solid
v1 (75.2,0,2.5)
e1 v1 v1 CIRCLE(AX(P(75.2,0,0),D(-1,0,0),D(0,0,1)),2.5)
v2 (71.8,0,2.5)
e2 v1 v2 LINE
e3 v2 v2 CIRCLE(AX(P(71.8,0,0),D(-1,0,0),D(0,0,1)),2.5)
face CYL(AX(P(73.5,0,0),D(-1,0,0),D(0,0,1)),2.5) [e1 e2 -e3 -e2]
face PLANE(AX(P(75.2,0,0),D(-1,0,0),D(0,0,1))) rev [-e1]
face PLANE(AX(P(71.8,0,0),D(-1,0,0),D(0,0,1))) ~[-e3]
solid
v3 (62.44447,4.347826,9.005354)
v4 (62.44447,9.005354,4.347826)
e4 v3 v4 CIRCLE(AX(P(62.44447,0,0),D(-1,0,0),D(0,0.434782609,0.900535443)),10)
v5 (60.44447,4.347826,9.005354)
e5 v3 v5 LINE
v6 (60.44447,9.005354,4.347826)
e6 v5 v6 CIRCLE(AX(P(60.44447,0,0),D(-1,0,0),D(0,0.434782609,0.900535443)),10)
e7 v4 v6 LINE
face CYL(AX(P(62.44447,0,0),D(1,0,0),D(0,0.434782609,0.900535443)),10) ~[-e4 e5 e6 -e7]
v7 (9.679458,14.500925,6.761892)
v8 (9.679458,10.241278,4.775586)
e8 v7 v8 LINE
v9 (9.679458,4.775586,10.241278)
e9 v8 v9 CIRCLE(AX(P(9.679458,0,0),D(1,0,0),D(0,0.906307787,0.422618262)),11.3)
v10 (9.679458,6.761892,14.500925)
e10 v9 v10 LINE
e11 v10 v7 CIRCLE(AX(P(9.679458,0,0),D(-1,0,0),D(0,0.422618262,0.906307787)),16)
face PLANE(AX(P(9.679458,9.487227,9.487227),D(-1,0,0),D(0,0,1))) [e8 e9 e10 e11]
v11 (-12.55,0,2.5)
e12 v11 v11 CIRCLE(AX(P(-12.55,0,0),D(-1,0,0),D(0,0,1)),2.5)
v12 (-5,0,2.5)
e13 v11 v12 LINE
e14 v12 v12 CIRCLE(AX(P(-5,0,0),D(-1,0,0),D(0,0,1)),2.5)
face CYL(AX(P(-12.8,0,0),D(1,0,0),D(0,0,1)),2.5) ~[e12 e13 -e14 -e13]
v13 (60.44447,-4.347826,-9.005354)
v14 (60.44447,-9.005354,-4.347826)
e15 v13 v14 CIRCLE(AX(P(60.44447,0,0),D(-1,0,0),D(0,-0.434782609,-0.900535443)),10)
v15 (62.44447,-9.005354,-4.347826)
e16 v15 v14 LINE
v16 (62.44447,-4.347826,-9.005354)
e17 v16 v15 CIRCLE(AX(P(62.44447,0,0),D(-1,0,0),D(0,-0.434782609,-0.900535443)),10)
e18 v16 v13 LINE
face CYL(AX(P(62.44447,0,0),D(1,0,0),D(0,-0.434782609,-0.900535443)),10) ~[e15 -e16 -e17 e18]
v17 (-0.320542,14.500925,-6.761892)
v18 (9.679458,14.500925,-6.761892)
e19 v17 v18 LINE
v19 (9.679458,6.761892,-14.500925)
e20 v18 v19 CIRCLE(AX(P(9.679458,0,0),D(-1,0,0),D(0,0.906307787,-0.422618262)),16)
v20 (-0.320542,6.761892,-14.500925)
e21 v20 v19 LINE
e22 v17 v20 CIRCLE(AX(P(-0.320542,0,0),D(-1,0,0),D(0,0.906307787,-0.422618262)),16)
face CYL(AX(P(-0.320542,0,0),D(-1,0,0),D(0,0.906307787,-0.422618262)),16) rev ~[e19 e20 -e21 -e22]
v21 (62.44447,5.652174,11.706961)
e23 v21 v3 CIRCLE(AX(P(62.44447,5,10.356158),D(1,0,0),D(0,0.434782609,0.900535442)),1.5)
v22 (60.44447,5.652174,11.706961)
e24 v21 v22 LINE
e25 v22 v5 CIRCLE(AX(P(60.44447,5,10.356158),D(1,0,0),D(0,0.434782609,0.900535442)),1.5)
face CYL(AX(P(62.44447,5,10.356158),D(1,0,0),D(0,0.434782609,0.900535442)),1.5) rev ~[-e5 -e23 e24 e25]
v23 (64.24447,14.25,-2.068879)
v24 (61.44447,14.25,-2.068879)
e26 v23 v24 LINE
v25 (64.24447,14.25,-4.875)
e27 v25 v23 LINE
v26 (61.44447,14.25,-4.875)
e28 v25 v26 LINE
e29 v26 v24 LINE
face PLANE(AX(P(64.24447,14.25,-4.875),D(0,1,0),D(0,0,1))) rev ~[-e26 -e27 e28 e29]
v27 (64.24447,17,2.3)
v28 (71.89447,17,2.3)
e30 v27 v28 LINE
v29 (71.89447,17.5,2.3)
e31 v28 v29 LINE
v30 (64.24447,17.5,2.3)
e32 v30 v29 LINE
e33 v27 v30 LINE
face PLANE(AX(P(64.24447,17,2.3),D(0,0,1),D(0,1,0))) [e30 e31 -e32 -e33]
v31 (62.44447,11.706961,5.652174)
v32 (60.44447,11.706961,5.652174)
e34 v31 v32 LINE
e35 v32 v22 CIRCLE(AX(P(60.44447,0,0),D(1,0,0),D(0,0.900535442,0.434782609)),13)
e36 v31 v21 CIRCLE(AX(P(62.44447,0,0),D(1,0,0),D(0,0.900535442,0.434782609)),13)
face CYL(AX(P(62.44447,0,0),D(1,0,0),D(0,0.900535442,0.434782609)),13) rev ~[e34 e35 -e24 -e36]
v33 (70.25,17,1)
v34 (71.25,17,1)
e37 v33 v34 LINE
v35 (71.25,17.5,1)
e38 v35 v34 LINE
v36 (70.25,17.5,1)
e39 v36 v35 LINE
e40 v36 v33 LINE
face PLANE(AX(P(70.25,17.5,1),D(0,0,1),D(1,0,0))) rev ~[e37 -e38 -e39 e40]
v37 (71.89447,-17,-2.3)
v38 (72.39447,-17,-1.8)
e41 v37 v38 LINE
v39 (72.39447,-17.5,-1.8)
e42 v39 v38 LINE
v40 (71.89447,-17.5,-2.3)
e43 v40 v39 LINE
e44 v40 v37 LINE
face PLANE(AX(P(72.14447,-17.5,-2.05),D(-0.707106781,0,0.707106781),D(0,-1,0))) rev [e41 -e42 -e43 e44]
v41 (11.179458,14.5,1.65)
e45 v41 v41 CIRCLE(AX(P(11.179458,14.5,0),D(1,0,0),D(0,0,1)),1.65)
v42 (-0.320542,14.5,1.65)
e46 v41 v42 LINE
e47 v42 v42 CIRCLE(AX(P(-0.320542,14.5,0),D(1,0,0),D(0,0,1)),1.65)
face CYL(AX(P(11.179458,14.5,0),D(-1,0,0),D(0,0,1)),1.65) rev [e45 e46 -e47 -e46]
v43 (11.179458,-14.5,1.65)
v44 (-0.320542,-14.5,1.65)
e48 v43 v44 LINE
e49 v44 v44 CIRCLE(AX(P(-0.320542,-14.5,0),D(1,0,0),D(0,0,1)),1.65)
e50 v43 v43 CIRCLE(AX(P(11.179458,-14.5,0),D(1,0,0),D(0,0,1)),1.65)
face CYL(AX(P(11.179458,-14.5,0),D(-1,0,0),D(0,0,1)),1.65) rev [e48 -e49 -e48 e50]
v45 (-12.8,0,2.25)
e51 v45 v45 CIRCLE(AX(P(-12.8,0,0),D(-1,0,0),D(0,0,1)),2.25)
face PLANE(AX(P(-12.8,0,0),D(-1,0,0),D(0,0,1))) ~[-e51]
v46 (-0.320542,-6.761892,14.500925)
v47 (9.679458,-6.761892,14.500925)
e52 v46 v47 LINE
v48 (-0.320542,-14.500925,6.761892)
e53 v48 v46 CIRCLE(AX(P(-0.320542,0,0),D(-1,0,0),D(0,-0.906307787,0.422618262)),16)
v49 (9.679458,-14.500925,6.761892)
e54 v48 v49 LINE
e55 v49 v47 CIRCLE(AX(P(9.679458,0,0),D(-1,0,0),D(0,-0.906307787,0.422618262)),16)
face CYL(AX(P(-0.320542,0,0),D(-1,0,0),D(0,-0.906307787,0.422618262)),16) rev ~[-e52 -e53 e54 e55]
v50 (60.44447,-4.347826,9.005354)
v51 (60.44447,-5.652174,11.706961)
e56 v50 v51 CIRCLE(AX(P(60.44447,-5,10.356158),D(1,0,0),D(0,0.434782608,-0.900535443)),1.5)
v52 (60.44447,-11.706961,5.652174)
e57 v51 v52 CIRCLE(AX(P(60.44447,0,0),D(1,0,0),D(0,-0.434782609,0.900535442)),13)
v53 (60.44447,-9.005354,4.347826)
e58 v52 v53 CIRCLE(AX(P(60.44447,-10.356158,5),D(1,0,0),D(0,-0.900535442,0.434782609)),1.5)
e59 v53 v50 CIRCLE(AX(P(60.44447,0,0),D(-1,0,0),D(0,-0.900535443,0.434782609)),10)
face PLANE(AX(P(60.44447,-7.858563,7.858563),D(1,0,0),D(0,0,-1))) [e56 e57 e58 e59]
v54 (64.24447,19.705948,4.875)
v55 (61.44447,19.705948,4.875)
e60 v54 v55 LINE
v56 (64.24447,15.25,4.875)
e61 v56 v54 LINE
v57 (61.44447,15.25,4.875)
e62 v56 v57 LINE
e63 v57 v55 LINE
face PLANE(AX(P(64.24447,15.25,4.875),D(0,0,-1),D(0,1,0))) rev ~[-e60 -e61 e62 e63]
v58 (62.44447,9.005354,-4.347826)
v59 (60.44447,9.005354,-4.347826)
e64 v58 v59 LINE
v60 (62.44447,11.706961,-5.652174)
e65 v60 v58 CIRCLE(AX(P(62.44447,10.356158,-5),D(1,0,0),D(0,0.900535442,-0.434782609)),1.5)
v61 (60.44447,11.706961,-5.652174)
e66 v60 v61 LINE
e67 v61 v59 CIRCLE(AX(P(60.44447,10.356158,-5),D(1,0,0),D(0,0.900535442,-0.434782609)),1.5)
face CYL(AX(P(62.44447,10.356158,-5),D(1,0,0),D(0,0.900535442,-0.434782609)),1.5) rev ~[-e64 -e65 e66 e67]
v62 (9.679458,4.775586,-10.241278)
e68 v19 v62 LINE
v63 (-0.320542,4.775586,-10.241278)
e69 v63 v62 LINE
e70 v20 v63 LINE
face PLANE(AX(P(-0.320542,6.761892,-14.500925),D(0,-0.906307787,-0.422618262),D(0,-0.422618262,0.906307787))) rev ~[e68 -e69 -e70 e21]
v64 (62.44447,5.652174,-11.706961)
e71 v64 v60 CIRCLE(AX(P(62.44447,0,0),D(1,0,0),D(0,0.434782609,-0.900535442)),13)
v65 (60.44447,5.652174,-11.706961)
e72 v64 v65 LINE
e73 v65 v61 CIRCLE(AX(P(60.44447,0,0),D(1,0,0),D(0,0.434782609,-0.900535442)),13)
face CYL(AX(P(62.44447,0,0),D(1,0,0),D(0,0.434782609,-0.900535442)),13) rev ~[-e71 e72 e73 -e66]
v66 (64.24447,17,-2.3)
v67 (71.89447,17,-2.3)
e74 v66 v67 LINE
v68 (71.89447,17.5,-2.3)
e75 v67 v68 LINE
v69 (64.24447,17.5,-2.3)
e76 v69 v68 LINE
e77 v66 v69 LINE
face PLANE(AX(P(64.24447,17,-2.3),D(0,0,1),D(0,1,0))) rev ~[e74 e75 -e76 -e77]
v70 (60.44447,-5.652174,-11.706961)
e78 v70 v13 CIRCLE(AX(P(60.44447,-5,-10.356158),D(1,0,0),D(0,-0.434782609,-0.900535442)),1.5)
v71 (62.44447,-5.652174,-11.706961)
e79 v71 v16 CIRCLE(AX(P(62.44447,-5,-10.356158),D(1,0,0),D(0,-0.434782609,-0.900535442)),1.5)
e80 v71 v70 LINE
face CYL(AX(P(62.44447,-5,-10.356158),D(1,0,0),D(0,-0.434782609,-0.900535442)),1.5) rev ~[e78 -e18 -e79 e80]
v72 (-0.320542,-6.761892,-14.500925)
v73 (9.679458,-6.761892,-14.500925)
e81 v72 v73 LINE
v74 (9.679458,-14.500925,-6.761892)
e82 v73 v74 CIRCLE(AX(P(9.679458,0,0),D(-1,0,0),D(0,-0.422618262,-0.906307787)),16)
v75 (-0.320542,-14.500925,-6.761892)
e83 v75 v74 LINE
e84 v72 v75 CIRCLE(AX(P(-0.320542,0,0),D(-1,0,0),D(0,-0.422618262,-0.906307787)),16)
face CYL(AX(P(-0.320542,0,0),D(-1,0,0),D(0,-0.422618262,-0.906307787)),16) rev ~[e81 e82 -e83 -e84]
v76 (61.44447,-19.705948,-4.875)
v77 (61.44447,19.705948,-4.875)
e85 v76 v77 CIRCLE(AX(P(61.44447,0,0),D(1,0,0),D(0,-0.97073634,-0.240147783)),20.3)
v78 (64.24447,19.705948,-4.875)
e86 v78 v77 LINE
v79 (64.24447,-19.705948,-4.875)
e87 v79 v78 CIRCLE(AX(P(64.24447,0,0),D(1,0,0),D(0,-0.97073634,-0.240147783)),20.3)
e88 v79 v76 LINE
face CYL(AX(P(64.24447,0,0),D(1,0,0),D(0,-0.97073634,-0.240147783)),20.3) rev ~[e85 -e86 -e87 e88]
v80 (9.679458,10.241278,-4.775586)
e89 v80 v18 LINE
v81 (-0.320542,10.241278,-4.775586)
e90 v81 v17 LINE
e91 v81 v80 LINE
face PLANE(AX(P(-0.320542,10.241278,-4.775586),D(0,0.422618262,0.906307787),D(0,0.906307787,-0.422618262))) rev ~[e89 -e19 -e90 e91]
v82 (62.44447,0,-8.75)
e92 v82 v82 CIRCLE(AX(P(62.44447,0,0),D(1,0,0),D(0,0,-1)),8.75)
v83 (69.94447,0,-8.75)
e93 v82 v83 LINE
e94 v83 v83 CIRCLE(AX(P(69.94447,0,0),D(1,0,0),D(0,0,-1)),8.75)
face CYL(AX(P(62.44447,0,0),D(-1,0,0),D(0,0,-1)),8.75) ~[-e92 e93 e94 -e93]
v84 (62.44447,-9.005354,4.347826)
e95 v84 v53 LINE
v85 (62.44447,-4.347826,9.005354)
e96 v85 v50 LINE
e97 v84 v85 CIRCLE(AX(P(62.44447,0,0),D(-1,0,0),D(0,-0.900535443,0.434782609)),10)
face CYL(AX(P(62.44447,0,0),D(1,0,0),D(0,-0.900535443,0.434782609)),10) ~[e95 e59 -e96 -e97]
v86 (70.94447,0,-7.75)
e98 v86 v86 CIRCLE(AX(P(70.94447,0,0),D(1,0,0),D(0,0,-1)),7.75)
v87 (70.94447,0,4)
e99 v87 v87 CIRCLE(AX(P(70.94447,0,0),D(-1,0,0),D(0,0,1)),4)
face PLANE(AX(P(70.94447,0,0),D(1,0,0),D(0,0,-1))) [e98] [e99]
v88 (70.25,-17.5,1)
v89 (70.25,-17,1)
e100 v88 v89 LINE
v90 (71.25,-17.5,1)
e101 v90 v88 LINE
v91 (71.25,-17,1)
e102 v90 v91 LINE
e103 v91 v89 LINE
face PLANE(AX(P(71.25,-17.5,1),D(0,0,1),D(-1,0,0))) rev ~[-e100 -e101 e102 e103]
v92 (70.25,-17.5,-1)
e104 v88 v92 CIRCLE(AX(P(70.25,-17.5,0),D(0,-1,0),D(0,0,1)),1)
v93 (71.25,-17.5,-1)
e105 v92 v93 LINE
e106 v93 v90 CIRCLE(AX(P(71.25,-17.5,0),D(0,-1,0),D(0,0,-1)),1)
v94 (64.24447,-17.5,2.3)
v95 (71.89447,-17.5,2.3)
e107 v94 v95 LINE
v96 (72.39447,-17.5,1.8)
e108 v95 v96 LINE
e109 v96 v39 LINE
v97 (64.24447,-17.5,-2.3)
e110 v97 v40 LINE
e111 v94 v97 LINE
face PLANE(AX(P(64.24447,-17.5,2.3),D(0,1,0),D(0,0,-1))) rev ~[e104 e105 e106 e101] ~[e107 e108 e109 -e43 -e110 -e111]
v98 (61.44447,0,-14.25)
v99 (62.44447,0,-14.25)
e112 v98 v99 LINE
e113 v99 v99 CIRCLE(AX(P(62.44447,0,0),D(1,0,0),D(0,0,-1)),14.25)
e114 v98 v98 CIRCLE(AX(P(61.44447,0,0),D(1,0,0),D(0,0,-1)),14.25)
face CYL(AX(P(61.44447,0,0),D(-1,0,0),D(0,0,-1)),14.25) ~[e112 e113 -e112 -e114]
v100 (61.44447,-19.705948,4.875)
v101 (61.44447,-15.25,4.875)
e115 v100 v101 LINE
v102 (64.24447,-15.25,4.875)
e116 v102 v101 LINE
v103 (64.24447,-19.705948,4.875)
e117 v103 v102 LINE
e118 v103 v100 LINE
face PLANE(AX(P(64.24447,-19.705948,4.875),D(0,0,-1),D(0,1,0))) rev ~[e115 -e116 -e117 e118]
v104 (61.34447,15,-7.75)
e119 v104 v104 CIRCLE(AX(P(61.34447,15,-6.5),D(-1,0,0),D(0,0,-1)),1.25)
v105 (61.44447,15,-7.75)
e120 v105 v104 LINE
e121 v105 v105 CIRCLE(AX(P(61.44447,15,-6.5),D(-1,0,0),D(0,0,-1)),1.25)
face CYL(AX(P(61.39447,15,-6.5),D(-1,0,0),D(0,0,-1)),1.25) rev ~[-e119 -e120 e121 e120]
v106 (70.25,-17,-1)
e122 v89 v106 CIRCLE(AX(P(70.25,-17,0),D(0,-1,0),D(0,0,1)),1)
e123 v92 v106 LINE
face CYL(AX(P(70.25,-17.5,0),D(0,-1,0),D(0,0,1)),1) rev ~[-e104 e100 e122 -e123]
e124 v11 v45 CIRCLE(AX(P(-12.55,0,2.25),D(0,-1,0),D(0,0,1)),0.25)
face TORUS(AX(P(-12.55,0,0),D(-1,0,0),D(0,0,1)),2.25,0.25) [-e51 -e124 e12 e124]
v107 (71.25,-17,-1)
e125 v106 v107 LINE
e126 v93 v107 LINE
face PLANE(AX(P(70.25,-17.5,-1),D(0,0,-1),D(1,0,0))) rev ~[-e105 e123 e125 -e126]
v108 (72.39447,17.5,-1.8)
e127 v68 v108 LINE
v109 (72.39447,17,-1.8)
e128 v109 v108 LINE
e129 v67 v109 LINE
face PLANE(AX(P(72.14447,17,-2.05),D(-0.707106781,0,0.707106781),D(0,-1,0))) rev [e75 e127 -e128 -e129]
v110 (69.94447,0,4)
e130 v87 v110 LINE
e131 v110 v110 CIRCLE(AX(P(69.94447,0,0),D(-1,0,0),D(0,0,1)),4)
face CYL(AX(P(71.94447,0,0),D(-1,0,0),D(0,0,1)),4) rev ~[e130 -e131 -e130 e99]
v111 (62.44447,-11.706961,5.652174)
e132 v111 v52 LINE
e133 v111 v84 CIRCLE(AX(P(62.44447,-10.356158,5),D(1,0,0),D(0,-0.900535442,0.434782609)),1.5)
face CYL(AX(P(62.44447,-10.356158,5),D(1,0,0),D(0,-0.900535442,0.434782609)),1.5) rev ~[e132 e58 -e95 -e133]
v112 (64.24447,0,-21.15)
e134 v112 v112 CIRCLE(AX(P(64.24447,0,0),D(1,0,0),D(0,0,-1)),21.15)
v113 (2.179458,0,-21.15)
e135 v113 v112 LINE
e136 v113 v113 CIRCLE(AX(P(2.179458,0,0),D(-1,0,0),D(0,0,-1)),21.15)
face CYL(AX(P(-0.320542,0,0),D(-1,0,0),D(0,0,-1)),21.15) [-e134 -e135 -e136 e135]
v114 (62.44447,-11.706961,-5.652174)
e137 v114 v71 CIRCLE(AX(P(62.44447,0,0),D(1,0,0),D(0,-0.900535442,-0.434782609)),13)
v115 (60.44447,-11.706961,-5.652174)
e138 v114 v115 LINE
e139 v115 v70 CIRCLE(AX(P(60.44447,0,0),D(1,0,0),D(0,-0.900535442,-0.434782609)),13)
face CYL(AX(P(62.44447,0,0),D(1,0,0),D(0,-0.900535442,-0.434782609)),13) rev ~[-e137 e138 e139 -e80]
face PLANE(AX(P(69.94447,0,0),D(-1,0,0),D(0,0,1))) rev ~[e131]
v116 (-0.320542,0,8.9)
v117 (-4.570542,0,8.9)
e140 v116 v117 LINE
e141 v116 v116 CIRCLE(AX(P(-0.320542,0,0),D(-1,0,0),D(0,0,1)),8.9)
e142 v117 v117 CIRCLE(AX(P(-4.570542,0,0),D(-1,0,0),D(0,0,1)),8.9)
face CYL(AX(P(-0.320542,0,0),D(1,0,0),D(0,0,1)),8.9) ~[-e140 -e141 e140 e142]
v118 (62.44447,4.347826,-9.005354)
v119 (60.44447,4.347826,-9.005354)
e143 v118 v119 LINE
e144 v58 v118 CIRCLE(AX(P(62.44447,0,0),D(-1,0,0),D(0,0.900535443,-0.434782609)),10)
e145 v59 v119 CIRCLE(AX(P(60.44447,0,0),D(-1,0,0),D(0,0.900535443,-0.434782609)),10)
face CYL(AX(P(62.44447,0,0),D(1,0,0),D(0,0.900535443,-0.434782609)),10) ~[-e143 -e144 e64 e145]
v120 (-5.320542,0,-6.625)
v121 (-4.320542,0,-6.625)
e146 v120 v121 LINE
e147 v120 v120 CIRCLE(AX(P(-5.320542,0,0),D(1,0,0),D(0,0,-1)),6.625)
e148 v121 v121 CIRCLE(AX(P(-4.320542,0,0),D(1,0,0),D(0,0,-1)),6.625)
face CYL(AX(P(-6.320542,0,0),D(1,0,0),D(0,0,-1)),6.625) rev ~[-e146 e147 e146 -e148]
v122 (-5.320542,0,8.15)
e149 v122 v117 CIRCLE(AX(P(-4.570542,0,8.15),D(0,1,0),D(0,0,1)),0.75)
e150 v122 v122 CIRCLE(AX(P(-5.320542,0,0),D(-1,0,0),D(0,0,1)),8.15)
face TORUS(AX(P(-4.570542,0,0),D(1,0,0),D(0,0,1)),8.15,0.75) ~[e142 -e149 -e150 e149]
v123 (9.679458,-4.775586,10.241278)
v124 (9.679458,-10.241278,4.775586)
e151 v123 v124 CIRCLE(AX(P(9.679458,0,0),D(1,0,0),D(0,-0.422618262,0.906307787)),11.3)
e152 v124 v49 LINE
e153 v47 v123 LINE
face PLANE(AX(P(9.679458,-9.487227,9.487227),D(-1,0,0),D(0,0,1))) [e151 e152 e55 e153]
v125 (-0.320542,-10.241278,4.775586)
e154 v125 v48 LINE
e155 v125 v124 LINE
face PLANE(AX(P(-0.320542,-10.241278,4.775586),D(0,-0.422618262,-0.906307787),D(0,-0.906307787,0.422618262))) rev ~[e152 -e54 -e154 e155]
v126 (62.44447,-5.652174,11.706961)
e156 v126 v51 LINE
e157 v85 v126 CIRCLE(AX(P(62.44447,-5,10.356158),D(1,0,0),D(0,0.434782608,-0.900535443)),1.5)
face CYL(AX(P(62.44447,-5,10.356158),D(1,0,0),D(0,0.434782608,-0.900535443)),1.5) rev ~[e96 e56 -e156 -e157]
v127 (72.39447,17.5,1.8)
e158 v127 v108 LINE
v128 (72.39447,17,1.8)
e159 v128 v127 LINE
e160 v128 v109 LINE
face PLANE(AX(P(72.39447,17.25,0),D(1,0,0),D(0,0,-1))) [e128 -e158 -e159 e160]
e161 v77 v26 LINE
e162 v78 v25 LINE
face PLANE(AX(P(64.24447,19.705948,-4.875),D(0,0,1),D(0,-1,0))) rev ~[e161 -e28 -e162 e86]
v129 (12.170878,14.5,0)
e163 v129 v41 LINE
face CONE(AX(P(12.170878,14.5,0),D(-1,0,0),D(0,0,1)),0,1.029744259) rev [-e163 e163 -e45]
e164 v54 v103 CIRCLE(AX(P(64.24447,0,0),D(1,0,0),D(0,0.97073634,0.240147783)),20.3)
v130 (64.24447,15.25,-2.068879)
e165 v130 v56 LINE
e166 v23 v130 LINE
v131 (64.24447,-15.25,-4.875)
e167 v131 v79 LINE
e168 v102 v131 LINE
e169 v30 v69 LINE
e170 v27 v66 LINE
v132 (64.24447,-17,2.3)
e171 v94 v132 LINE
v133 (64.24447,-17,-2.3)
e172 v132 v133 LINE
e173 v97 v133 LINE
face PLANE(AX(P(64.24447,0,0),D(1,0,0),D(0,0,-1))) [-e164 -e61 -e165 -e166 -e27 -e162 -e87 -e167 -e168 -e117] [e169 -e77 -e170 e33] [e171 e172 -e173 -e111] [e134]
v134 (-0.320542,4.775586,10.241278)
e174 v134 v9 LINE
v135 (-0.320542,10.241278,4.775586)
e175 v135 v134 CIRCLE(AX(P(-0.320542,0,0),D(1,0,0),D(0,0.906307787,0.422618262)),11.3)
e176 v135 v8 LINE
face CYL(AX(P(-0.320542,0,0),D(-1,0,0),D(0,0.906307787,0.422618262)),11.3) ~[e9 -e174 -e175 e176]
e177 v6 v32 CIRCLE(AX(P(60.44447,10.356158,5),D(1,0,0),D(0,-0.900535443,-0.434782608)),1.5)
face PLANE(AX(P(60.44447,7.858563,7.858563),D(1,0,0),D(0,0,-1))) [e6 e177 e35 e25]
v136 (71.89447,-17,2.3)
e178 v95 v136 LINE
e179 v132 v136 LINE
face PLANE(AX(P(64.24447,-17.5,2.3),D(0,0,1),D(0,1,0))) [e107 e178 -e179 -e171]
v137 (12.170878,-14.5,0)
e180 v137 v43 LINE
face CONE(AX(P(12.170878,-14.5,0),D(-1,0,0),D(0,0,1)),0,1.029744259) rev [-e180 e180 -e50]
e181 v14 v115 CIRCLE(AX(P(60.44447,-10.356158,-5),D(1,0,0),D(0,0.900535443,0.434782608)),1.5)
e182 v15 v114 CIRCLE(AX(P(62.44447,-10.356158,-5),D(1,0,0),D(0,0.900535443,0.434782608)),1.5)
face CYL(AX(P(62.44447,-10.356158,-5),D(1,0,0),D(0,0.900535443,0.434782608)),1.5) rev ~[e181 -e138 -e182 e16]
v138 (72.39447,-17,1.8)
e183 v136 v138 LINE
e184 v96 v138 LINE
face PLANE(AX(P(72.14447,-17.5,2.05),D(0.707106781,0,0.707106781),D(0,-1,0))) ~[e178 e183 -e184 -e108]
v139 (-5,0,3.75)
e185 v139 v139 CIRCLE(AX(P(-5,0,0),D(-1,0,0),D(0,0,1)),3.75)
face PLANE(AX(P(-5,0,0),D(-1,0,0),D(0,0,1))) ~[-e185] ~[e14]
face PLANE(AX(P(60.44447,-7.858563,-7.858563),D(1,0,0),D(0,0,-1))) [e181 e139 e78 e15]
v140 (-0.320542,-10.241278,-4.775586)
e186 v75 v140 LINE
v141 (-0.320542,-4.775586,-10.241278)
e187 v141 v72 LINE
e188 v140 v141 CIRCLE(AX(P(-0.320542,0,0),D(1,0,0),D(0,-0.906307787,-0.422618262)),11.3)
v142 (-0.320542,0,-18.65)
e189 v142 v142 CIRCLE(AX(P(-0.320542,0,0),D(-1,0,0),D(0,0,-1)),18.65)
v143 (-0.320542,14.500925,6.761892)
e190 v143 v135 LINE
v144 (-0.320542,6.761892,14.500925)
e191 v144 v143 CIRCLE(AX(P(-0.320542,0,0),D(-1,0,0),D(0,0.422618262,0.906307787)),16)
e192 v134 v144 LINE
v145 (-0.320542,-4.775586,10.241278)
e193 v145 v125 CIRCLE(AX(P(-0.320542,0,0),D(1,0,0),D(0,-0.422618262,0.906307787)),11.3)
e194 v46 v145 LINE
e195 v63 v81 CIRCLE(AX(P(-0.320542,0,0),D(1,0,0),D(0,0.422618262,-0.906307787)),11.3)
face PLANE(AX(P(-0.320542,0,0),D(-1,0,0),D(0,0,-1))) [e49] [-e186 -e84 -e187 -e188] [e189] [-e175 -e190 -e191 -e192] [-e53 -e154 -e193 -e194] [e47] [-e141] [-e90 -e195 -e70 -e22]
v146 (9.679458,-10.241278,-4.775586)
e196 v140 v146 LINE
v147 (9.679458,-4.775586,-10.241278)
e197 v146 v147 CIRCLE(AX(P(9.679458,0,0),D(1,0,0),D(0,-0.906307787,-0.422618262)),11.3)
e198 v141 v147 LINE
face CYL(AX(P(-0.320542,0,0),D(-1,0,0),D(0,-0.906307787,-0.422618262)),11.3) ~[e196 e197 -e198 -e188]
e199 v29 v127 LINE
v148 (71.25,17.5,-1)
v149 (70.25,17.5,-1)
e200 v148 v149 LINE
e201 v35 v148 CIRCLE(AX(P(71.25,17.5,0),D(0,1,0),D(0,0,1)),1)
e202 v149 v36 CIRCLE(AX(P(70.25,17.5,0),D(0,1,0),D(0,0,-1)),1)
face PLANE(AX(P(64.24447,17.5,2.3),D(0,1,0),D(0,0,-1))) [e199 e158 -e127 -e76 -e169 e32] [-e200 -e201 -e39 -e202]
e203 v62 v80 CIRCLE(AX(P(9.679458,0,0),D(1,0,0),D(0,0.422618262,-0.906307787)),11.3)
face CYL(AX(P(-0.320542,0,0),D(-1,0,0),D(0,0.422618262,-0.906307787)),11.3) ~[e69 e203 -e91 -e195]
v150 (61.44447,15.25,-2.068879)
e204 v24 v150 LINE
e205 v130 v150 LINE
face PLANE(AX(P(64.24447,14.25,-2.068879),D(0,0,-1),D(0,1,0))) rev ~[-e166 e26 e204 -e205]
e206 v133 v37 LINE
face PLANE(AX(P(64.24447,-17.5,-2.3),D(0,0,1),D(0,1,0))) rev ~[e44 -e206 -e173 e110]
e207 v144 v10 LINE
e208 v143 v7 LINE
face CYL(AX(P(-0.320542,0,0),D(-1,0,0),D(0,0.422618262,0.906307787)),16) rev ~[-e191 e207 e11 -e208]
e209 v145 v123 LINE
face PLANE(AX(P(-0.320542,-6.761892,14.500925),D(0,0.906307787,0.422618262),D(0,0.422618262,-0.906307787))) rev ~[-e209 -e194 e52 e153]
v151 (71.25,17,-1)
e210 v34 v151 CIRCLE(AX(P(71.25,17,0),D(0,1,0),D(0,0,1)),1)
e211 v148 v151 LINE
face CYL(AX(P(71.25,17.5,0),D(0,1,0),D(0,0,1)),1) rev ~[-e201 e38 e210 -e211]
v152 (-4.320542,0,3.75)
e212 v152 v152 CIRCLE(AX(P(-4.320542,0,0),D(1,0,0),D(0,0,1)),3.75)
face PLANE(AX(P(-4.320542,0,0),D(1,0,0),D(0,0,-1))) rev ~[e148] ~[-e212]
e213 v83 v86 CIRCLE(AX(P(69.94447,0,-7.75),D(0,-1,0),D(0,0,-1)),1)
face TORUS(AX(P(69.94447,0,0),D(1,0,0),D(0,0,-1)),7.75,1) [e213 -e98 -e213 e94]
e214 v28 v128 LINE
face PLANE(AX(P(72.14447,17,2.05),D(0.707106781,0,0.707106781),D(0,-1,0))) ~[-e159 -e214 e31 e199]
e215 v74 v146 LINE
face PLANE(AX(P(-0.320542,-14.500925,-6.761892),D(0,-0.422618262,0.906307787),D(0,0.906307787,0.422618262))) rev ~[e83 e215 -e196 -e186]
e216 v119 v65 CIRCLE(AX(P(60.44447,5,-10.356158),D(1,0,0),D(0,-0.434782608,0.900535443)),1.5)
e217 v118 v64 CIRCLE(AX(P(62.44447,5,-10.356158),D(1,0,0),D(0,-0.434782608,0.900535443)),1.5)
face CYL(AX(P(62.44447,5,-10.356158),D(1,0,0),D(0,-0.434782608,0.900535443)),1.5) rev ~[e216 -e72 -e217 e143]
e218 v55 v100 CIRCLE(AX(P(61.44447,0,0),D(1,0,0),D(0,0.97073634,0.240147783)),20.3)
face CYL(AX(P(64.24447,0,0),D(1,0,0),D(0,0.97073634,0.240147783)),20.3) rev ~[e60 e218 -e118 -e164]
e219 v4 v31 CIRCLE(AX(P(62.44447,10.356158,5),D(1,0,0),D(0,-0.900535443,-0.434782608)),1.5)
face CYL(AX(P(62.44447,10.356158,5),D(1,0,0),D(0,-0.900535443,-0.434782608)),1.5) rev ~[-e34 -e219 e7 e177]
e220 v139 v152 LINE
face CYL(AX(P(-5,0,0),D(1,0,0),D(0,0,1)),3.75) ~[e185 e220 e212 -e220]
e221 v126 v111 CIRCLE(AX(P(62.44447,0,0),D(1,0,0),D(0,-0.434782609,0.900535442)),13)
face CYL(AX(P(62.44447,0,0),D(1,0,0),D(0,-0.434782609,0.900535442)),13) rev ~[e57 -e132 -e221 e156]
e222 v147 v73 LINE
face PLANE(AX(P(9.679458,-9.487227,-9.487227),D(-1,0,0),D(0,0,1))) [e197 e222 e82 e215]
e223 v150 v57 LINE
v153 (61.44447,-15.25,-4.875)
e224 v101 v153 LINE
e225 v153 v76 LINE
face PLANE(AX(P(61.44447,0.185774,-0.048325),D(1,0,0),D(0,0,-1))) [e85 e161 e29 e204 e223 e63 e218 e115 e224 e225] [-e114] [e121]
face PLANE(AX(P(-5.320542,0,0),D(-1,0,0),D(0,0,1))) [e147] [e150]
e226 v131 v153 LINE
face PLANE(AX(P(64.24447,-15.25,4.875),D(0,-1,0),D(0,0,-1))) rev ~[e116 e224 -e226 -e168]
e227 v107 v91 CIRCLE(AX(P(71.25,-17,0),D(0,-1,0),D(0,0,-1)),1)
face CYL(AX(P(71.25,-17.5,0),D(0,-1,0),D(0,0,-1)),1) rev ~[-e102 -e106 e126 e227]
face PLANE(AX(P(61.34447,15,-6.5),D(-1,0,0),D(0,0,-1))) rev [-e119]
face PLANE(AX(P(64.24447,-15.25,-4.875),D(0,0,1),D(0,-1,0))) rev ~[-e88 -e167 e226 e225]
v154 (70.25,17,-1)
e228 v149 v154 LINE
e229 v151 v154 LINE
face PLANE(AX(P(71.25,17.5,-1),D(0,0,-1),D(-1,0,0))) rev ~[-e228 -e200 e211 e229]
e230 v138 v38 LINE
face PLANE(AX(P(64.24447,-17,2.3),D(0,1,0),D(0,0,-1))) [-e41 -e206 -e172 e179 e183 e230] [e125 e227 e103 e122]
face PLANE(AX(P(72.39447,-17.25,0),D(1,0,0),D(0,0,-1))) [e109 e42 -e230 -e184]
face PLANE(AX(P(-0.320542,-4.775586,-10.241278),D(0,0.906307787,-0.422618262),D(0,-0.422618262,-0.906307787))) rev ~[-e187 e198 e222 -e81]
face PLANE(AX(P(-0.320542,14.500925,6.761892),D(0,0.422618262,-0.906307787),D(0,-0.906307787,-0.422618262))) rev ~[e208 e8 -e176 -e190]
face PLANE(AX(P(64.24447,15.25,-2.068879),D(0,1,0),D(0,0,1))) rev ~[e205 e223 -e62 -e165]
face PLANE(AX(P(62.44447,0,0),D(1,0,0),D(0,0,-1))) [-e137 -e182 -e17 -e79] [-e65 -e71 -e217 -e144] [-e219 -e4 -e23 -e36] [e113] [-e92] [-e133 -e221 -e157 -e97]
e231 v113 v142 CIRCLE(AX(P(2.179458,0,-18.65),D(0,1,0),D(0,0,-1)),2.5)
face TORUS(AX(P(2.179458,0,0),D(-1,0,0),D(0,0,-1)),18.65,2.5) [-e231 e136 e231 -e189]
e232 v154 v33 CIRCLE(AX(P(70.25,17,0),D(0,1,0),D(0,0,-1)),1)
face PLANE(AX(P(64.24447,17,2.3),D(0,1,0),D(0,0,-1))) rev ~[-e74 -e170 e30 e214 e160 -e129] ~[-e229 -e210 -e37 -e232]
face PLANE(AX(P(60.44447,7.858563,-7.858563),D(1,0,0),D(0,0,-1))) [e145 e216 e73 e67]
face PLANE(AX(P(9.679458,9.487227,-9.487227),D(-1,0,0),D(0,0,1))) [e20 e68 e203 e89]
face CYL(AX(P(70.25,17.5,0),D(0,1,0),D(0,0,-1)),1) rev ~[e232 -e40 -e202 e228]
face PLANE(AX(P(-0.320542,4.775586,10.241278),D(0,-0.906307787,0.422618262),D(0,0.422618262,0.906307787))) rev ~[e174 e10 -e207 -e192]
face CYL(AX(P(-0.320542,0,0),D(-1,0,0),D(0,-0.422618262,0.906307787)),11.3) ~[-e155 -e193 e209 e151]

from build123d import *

# Parameters (mm, degrees)
SKETCH_1_W                       = 32.465011287
SKETCH_1_H                       = 21.15
SKETCH_2_R                       = 21.15
EXTRUDE_1_DEPTH                  = 25
SKETCH_3_W                       = 4.6
SKETCH_3_H                       = 0.5
EXTRUDE_2_DEPTH                  = 8.15
CUT_EXTRUDE_1_DEPTH              = 85.747296228
SKETCH_5_W                       = 4.6
SKETCH_5_H                       = 0.5
EXTRUDE_3_DEPTH                  = 8.15
CUT_EXTRUDE_2_REACH              = 86.747
CUT_EXTRUDE_3_DEPTH              = 2.8
SKETCH_8_R                       = 14.25
EXTRUDE_4_DEPTH                  = 1
CUT_EXTRUDE_4_DEPTH              = 2
CUT_EXTRUDE_5_DEPTH              = 2
CUT_EXTRUDE_6_DEPTH              = 2
CUT_EXTRUDE_7_DEPTH              = 2
EXTRUDE_START                    = 7.1
SKETCH_13_R                      = 21.15
EXTRUDE_5_DEPTH                  = 7.1
CUT_EXTRUDE_8_DEPTH              = 10
CUT_EXTRUDE_9_DEPTH              = 10
CUT_EXTRUDE_10_DEPTH             = 10
CUT_EXTRUDE_11_DEPTH             = 10
SKETCH_18_R                      = 8.75
EXTRUDE_6_DEPTH                  = 8.5
HOLE_WIZARD_8_0_8_1_D            = 8
HOLE_WIZARD_8_0_8_1_DEPTH        = 1
SKETCH_21_R                      = 8.9
EXTRUDE_7_DEPTH                  = 5
HOLE_WIZARD_M121_D               = 13.25
HOLE_WIZARD_M121_DEPTH           = 1
SKETCH_25_W                      = 3.4
SKETCH_25_H                      = 2.5
SKETCH_26_W                      = 1.25
SKETCH_26_H                      = 0.1
HOLE_WIZARD_3_3_3_3_1_AT_2_COUNT = 2
HOLE_WIZARD_3_3_3_3_1_AT_2_PITCH = 29
CHAMFER_1_SIZE                   = 0.5
FILLET_1_R                       = 0.25
FILLET_2_R                       = 0.75
FILLET_3_R                       = 1
FILLET_4_R                       = 2.5


with BuildPart() as part:
    # Эскиз1 → Повернуть1 (revolve)
    with BuildSketch(Plane.XY, mode=Mode.PRIVATE) as revolve_1_sk:
        with Locations((23.011963883, 10.575)):
            Rectangle(SKETCH_1_W, SKETCH_1_H)
    revolve(revolve_1_sk.sketch.rotate(Axis((6.779458239, 0, 0), (1, 0, 0)), 270), axis=Axis((6.779458239, 0, 0), (1, 0, 0)))

    # Эскиз2 → Бобышка-Вытянуть1 (add)
    with BuildSketch(Plane(origin=(39.244469526, 0, 0), x_dir=(0, 0, -1), z_dir=(1, 0, 0))):
        Circle(SKETCH_2_R)
    extrude(amount=EXTRUDE_1_DEPTH)

    # Эскиз3 → Бобышка-Вытянуть2 (add)
    with BuildSketch(Plane(origin=(64.244469526, 0, 0), x_dir=(0, 0, -1), z_dir=(1, 0, 0))):
        with Locations((0, 17.25)):
            Rectangle(SKETCH_3_W, SKETCH_3_H)
    extrude(amount=EXTRUDE_2_DEPTH)

    # Эскиз4 → Вырез-Вытянуть1 (cut, through all)
    with BuildSketch(Plane(origin=(0, 17.5, 0), x_dir=(-1, 0, 0), z_dir=(0, 1, 0))):
        with BuildLine():
            Line((-71.25, -1), (-70.25, -1))
            ThreePointArc((-70.25, -1), (-69.25, 0), (-70.25, 1))
            Line((-70.25, 1), (-71.25, 1))
            ThreePointArc((-71.25, 1), (-72.25, 0), (-71.25, -1))
        make_face()
    extrude(amount=-CUT_EXTRUDE_1_DEPTH, mode=Mode.SUBTRACT)

    # Эскиз5 → Бобышка-Вытянуть3 (add)
    with BuildSketch(Plane(origin=(64.244469526, 0, 0), x_dir=(0, 0, -1), z_dir=(1, 0, 0))):
        with Locations((0, -17.25)):
            Rectangle(SKETCH_5_W, SKETCH_5_H)
    extrude(amount=EXTRUDE_3_DEPTH)

    # Эскиз6 → Вырез-Вытянуть2 (cut, up to next)
    with BuildSketch(Plane.XZ.offset(17.5), mode=Mode.PRIVATE) as cut_extrude_2_sk1:
        with BuildLine():
            Line((71.25, 1), (70.25, 1))
            ThreePointArc((70.25, 1), (69.25, 0), (70.25, -1))
            Line((70.25, -1), (71.25, -1))
            ThreePointArc((71.25, -1), (72.25, 0), (71.25, 1))
        make_face()
    cut_extrude_2_tool1 = extrude(cut_extrude_2_sk1.sketch, amount=-CUT_EXTRUDE_2_REACH, mode=Mode.PRIVATE) & part.part
    add(cut_extrude_2_tool1.solids().sort_by_distance((70.75, -17.5, 0))[0], mode=Mode.SUBTRACT)

    # Эскиз7 → Вырез-Вытянуть3 (cut)
    with BuildSketch(Plane(origin=(64.244469526, 0, 0), x_dir=(0, 0, -1), z_dir=(1, 0, 0))):
        with BuildLine():
            Line((2.068879475, 14.25), (2.068879475, 15.25))
            Line((2.068879475, 15.25), (-4.875, 15.25))
            Line((-4.875, 15.25), (-4.875, 19.705947706))
            ThreePointArc((-4.875, 19.705947706), (-20.3, 0), (-4.875, -19.705947706))
            Line((-4.875, -19.705947706), (-4.875, -15.25))
            Line((-4.875, -15.25), (4.875, -15.25))
            Line((4.875, -15.25), (4.875, -19.705947706))
            ThreePointArc((4.875, -19.705947706), (20.3, 0), (4.875, 19.705947706))
            Line((4.875, 19.705947706), (4.875, 14.25))
            Line((4.875, 14.25), (2.068879475, 14.25))
        make_face()
    extrude(amount=-CUT_EXTRUDE_3_DEPTH, mode=Mode.SUBTRACT)

    # Эскиз8 → Бобышка-Вытянуть4 (add)
    with BuildSketch(Plane(origin=(61.444469526, 0, 0), x_dir=(0, 0, -1), z_dir=(1, 0, 0))):
        Circle(SKETCH_8_R)
    extrude(amount=EXTRUDE_4_DEPTH)

    # Эскиз9 → Вырез-Вытянуть4 (cut)
    with BuildSketch(Plane(origin=(62.444469526, 0, 0), x_dir=(0, 0, -1), z_dir=(1, 0, 0))):
        with BuildLine():
            ThreePointArc((-5.652173913, 11.706960752), (-9.192388155, 9.192388155), (-11.706960752, 5.652173913))
            ThreePointArc((-11.706960752, 5.652173913), (-11.008331502, 3.649196836), (-9.005354425, 4.347826087))
            ThreePointArc((-9.005354425, 4.347826087), (-7.071067812, 7.071067812), (-4.347826087, 9.005354425))
            ThreePointArc((-4.347826087, 9.005354425), (-3.649196836, 11.008331502), (-5.652173913, 11.706960752))
        make_face()
    extrude(amount=-CUT_EXTRUDE_4_DEPTH, mode=Mode.SUBTRACT)

    # Эскиз10 → Вырез-Вытянуть5 (cut)
    with BuildSketch(Plane(origin=(62.444469526, 0, 0), x_dir=(0, 0, -1), z_dir=(1, 0, 0))):
        with BuildLine():
            ThreePointArc((11.706960752, 5.652173913), (9.192388155, 9.192388155), (5.652173913, 11.706960752))
            ThreePointArc((5.652173913, 11.706960752), (3.649196836, 11.008331502), (4.347826087, 9.005354425))
            ThreePointArc((4.347826087, 9.005354425), (7.071067812, 7.071067812), (9.005354425, 4.347826087))
            ThreePointArc((9.005354425, 4.347826087), (11.008331502, 3.649196836), (11.706960752, 5.652173913))
        make_face()
    extrude(amount=-CUT_EXTRUDE_5_DEPTH, mode=Mode.SUBTRACT)

    # Эскиз11 → Вырез-Вытянуть6 (cut)
    with BuildSketch(Plane(origin=(62.444469526, 0, 0), x_dir=(0, 0, -1), z_dir=(1, 0, 0))):
        with BuildLine():
            ThreePointArc((5.652173913, -11.706960752), (9.192388155, -9.192388155), (11.706960752, -5.652173913))
            ThreePointArc((11.706960752, -5.652173913), (11.008331502, -3.649196836), (9.005354425, -4.347826087))
            ThreePointArc((9.005354425, -4.347826087), (7.071067812, -7.071067812), (4.347826087, -9.005354425))
            ThreePointArc((4.347826087, -9.005354425), (3.649196836, -11.008331502), (5.652173913, -11.706960752))
        make_face()
    extrude(amount=-CUT_EXTRUDE_6_DEPTH, mode=Mode.SUBTRACT)

    # Эскиз12 → Вырез-Вытянуть7 (cut)
    with BuildSketch(Plane(origin=(62.444469526, 0, 0), x_dir=(0, 0, -1), z_dir=(1, 0, 0))):
        with BuildLine():
            ThreePointArc((-11.706960752, -5.652173913), (-9.192388155, -9.192388155), (-5.652173913, -11.706960752))
            ThreePointArc((-5.652173913, -11.706960752), (-3.649196836, -11.008331502), (-4.347826087, -9.005354425))
            ThreePointArc((-4.347826087, -9.005354425), (-7.071067812, -7.071067812), (-9.005354425, -4.347826087))
            ThreePointArc((-9.005354425, -4.347826087), (-11.008331502, -3.649196836), (-11.706960752, -5.652173913))
        make_face()
    extrude(amount=-CUT_EXTRUDE_7_DEPTH, mode=Mode.SUBTRACT)

    # Эскиз13 → Бобышка-Вытянуть5 (add)
    with BuildSketch(Plane.ZY.offset(-6.779458239).offset(EXTRUDE_START)):
        with Locations(Location((0, 0, 0), (0, 0, 180))):
            Circle(SKETCH_13_R)
    extrude(amount=-EXTRUDE_5_DEPTH)

    # Эскиз14 → Вырез-Вытянуть8 (cut)
    with BuildSketch(Plane.ZY.offset(0.320541761)):
        with BuildLine():
            Line((6.761892188, 14.500924593), (4.775586358, 10.241277994))
            ThreePointArc((4.775586358, 10.241277994), (7.990306627, 7.990306627), (10.241277994, 4.775586358))
            Line((10.241277994, 4.775586358), (14.500924593, 6.761892188))
            ThreePointArc((14.500924593, 6.761892188), (11.313708499, 11.313708499), (6.761892188, 14.500924593))
        make_face()
    extrude(amount=-CUT_EXTRUDE_8_DEPTH, mode=Mode.SUBTRACT)

    # Эскиз15 → Вырез-Вытянуть9 (cut)
    with BuildSketch(Plane.ZY.offset(0.320541761)):
        with BuildLine():
            Line((-6.761892188, -14.500924593), (-4.775586358, -10.241277994))
            ThreePointArc((-4.775586358, -10.241277994), (-7.990306627, -7.990306627), (-10.241277994, -4.775586358))
            Line((-10.241277994, -4.775586358), (-14.500924593, -6.761892188))
            ThreePointArc((-14.500924593, -6.761892188), (-11.313708499, -11.313708499), (-6.761892188, -14.500924593))
        make_face()
    extrude(amount=-CUT_EXTRUDE_9_DEPTH, mode=Mode.SUBTRACT)

    # Эскиз16 → Вырез-Вытянуть10 (cut)
    with BuildSketch(Plane.ZY.offset(0.320541761)):
        with BuildLine():
            Line((-14.500924593, 6.761892188), (-10.241277994, 4.775586358))
            ThreePointArc((-10.241277994, 4.775586358), (-7.990306627, 7.990306627), (-4.775586358, 10.241277994))
            Line((-4.775586358, 10.241277994), (-6.761892188, 14.500924593))
            ThreePointArc((-6.761892188, 14.500924593), (-11.313708499, 11.313708499), (-14.500924593, 6.761892188))
        make_face()
    extrude(amount=-CUT_EXTRUDE_10_DEPTH, mode=Mode.SUBTRACT)

    # Эскиз17 → Вырез-Вытянуть11 (cut)
    with BuildSketch(Plane.ZY.offset(0.320541761)):
        with BuildLine():
            Line((14.500924593, -6.761892188), (10.241277994, -4.775586358))
            ThreePointArc((10.241277994, -4.775586358), (7.990306627, -7.990306627), (4.775586358, -10.241277994))
            Line((4.775586358, -10.241277994), (6.761892188, -14.500924593))
            ThreePointArc((6.761892188, -14.500924593), (11.313708499, -11.313708499), (14.500924593, -6.761892188))
        make_face()
    extrude(amount=-CUT_EXTRUDE_11_DEPTH, mode=Mode.SUBTRACT)

    # Эскиз18 → Бобышка-Вытянуть6 (add)
    with BuildSketch(Plane(origin=(62.444469526, 0, 0), x_dir=(0, 0, -1), z_dir=(1, 0, 0))):
        Circle(SKETCH_18_R)
    extrude(amount=EXTRUDE_6_DEPTH)

    # Диаметр отверстия Ø8.0 (8)1
    with Locations(Plane(origin=(70.944469526, 0, 0), x_dir=(0, 0, -1), z_dir=(1, 0, 0))):
        with Locations((0, 0)):
            Hole(HOLE_WIZARD_8_0_8_1_D / 2, depth=HOLE_WIZARD_8_0_8_1_DEPTH)

    # Эскиз21 → Бобышка-Вытянуть7 (add)
    with BuildSketch(Plane.ZY.offset(0.320541761)):
        Circle(SKETCH_21_R)
    extrude(amount=EXTRUDE_7_DEPTH)

    # Отверстие с зазором M121
    with Locations(Plane.ZY.offset(5.320541761)):
        with Locations((0, 0)):
            Hole(HOLE_WIZARD_M121_D / 2, depth=HOLE_WIZARD_M121_DEPTH)

    # Эскиз24 → Повернуть2 (revolve)
    with BuildSketch(Plane(origin=(0, 0, 0), x_dir=(-1, 0, 0), z_dir=(0, 0, -1)), mode=Mode.PRIVATE) as revolve_2_sk:
        Polygon((4, 3.75), (4, 0), (12.8, 0), (12.8, 2.5), (5, 2.5), (5, 3.75), align=None)
    revolve(revolve_2_sk.sketch.rotate(Axis((-4, 0, 0), (-1, 0, 0)), 270), axis=Axis((-4, 0, 0), (-1, 0, 0)))

    # Эскиз26 → Диаметр отверстия Ø2.5 (2.5)1 (revolve, cut)
    with BuildSketch(Plane(origin=(61.444469526, 15, -6.5), x_dir=(0, 0, -1), z_dir=(0, 1, 0))):
        with Locations((0.625, 0.05)):
            Rectangle(SKETCH_26_W, SKETCH_26_H)
    revolve(axis=Axis((67.794469526, 15, -6.5), (-1, 0, 0)), mode=Mode.SUBTRACT)

    # Эскиз28 → Диаметр отверстия Ø3.3 (3.3)1 (revolve, cut)
    with BuildSketch(Plane(origin=(-0.320541761, 14.5, 0), x_dir=(0, 0, 1), z_dir=(0, 1, 0))):
        Polygon((0, 0), (0, 12.491420021), (1.65, 11.5), (1.65, 0), align=None)
    hole_wizard_3_3_3_3_1 = revolve(axis=Axis((-6.670541761, 14.5, 0), (1, 0, 0)), mode=Mode.SUBTRACT)

    # Диаметр отверстия Ø3.3 (3.3)1 at 2: Диаметр отверстия Ø3.3 (3.3)1 ×2
    with Locations(*[(0, -i * HOLE_WIZARD_3_3_3_3_1_AT_2_PITCH, 0) for i in range(1, HOLE_WIZARD_3_3_3_3_1_AT_2_COUNT)]):
        add(hole_wizard_3_3_3_3_1, mode=Mode.SUBTRACT)

    # Фаска1
    chamfer_1_edges = [part.edges().sort_by_distance(p)[0] for p in [
        (72.394469526, 17.25, -2.3),
        (72.394469526, 17.25, 2.3),
        (72.394469526, -17.25, -2.3),
        (72.394469526, -17.25, 2.3),
    ]]
    chamfer(chamfer_1_edges, length=CHAMFER_1_SIZE)

    # Скругление1
    fillet_1_edges = [part.edges().sort_by_distance(p)[0] for p in [
        (-12.8, 0, -2.5),
    ]]
    fillet(fillet_1_edges, radius=FILLET_1_R)

    # Скругление2
    fillet_2_edges = [part.edges().sort_by_distance(p)[0] for p in [
        (-5.320541761, 0, -8.9),
    ]]
    fillet(fillet_2_edges, radius=FILLET_2_R)

    # Скругление3
    fillet_3_edges = [part.edges().sort_by_distance(p)[0] for p in [
        (70.944469526, 0, 8.75),
    ]]
    fillet(fillet_3_edges, radius=FILLET_3_R)

    # Скругление4
    fillet_4_edges = [part.edges().sort_by_distance(p)[0] for p in [
        (-0.320541761, 0, 21.15),
    ]]
    fillet(fillet_4_edges, radius=FILLET_4_R)


with BuildPart() as body_2:
    # Эскиз25 → Повернуть3 (revolve)
    with BuildSketch(Plane(origin=(0, 0, 0), x_dir=(-1, 0, 0), z_dir=(0, 0, -1)), mode=Mode.PRIVATE) as revolve_3_sk:
        with Locations((-73.5, 1.25)):
            Rectangle(SKETCH_25_W, SKETCH_25_H)
    revolve(revolve_3_sk.sketch.rotate(Axis((75.2, 0, 0), (-1, 0, 0)), 270), axis=Axis((75.2, 0, 0), (-1, 0, 0)))


solid = Compound([part.part, body_2.part])
